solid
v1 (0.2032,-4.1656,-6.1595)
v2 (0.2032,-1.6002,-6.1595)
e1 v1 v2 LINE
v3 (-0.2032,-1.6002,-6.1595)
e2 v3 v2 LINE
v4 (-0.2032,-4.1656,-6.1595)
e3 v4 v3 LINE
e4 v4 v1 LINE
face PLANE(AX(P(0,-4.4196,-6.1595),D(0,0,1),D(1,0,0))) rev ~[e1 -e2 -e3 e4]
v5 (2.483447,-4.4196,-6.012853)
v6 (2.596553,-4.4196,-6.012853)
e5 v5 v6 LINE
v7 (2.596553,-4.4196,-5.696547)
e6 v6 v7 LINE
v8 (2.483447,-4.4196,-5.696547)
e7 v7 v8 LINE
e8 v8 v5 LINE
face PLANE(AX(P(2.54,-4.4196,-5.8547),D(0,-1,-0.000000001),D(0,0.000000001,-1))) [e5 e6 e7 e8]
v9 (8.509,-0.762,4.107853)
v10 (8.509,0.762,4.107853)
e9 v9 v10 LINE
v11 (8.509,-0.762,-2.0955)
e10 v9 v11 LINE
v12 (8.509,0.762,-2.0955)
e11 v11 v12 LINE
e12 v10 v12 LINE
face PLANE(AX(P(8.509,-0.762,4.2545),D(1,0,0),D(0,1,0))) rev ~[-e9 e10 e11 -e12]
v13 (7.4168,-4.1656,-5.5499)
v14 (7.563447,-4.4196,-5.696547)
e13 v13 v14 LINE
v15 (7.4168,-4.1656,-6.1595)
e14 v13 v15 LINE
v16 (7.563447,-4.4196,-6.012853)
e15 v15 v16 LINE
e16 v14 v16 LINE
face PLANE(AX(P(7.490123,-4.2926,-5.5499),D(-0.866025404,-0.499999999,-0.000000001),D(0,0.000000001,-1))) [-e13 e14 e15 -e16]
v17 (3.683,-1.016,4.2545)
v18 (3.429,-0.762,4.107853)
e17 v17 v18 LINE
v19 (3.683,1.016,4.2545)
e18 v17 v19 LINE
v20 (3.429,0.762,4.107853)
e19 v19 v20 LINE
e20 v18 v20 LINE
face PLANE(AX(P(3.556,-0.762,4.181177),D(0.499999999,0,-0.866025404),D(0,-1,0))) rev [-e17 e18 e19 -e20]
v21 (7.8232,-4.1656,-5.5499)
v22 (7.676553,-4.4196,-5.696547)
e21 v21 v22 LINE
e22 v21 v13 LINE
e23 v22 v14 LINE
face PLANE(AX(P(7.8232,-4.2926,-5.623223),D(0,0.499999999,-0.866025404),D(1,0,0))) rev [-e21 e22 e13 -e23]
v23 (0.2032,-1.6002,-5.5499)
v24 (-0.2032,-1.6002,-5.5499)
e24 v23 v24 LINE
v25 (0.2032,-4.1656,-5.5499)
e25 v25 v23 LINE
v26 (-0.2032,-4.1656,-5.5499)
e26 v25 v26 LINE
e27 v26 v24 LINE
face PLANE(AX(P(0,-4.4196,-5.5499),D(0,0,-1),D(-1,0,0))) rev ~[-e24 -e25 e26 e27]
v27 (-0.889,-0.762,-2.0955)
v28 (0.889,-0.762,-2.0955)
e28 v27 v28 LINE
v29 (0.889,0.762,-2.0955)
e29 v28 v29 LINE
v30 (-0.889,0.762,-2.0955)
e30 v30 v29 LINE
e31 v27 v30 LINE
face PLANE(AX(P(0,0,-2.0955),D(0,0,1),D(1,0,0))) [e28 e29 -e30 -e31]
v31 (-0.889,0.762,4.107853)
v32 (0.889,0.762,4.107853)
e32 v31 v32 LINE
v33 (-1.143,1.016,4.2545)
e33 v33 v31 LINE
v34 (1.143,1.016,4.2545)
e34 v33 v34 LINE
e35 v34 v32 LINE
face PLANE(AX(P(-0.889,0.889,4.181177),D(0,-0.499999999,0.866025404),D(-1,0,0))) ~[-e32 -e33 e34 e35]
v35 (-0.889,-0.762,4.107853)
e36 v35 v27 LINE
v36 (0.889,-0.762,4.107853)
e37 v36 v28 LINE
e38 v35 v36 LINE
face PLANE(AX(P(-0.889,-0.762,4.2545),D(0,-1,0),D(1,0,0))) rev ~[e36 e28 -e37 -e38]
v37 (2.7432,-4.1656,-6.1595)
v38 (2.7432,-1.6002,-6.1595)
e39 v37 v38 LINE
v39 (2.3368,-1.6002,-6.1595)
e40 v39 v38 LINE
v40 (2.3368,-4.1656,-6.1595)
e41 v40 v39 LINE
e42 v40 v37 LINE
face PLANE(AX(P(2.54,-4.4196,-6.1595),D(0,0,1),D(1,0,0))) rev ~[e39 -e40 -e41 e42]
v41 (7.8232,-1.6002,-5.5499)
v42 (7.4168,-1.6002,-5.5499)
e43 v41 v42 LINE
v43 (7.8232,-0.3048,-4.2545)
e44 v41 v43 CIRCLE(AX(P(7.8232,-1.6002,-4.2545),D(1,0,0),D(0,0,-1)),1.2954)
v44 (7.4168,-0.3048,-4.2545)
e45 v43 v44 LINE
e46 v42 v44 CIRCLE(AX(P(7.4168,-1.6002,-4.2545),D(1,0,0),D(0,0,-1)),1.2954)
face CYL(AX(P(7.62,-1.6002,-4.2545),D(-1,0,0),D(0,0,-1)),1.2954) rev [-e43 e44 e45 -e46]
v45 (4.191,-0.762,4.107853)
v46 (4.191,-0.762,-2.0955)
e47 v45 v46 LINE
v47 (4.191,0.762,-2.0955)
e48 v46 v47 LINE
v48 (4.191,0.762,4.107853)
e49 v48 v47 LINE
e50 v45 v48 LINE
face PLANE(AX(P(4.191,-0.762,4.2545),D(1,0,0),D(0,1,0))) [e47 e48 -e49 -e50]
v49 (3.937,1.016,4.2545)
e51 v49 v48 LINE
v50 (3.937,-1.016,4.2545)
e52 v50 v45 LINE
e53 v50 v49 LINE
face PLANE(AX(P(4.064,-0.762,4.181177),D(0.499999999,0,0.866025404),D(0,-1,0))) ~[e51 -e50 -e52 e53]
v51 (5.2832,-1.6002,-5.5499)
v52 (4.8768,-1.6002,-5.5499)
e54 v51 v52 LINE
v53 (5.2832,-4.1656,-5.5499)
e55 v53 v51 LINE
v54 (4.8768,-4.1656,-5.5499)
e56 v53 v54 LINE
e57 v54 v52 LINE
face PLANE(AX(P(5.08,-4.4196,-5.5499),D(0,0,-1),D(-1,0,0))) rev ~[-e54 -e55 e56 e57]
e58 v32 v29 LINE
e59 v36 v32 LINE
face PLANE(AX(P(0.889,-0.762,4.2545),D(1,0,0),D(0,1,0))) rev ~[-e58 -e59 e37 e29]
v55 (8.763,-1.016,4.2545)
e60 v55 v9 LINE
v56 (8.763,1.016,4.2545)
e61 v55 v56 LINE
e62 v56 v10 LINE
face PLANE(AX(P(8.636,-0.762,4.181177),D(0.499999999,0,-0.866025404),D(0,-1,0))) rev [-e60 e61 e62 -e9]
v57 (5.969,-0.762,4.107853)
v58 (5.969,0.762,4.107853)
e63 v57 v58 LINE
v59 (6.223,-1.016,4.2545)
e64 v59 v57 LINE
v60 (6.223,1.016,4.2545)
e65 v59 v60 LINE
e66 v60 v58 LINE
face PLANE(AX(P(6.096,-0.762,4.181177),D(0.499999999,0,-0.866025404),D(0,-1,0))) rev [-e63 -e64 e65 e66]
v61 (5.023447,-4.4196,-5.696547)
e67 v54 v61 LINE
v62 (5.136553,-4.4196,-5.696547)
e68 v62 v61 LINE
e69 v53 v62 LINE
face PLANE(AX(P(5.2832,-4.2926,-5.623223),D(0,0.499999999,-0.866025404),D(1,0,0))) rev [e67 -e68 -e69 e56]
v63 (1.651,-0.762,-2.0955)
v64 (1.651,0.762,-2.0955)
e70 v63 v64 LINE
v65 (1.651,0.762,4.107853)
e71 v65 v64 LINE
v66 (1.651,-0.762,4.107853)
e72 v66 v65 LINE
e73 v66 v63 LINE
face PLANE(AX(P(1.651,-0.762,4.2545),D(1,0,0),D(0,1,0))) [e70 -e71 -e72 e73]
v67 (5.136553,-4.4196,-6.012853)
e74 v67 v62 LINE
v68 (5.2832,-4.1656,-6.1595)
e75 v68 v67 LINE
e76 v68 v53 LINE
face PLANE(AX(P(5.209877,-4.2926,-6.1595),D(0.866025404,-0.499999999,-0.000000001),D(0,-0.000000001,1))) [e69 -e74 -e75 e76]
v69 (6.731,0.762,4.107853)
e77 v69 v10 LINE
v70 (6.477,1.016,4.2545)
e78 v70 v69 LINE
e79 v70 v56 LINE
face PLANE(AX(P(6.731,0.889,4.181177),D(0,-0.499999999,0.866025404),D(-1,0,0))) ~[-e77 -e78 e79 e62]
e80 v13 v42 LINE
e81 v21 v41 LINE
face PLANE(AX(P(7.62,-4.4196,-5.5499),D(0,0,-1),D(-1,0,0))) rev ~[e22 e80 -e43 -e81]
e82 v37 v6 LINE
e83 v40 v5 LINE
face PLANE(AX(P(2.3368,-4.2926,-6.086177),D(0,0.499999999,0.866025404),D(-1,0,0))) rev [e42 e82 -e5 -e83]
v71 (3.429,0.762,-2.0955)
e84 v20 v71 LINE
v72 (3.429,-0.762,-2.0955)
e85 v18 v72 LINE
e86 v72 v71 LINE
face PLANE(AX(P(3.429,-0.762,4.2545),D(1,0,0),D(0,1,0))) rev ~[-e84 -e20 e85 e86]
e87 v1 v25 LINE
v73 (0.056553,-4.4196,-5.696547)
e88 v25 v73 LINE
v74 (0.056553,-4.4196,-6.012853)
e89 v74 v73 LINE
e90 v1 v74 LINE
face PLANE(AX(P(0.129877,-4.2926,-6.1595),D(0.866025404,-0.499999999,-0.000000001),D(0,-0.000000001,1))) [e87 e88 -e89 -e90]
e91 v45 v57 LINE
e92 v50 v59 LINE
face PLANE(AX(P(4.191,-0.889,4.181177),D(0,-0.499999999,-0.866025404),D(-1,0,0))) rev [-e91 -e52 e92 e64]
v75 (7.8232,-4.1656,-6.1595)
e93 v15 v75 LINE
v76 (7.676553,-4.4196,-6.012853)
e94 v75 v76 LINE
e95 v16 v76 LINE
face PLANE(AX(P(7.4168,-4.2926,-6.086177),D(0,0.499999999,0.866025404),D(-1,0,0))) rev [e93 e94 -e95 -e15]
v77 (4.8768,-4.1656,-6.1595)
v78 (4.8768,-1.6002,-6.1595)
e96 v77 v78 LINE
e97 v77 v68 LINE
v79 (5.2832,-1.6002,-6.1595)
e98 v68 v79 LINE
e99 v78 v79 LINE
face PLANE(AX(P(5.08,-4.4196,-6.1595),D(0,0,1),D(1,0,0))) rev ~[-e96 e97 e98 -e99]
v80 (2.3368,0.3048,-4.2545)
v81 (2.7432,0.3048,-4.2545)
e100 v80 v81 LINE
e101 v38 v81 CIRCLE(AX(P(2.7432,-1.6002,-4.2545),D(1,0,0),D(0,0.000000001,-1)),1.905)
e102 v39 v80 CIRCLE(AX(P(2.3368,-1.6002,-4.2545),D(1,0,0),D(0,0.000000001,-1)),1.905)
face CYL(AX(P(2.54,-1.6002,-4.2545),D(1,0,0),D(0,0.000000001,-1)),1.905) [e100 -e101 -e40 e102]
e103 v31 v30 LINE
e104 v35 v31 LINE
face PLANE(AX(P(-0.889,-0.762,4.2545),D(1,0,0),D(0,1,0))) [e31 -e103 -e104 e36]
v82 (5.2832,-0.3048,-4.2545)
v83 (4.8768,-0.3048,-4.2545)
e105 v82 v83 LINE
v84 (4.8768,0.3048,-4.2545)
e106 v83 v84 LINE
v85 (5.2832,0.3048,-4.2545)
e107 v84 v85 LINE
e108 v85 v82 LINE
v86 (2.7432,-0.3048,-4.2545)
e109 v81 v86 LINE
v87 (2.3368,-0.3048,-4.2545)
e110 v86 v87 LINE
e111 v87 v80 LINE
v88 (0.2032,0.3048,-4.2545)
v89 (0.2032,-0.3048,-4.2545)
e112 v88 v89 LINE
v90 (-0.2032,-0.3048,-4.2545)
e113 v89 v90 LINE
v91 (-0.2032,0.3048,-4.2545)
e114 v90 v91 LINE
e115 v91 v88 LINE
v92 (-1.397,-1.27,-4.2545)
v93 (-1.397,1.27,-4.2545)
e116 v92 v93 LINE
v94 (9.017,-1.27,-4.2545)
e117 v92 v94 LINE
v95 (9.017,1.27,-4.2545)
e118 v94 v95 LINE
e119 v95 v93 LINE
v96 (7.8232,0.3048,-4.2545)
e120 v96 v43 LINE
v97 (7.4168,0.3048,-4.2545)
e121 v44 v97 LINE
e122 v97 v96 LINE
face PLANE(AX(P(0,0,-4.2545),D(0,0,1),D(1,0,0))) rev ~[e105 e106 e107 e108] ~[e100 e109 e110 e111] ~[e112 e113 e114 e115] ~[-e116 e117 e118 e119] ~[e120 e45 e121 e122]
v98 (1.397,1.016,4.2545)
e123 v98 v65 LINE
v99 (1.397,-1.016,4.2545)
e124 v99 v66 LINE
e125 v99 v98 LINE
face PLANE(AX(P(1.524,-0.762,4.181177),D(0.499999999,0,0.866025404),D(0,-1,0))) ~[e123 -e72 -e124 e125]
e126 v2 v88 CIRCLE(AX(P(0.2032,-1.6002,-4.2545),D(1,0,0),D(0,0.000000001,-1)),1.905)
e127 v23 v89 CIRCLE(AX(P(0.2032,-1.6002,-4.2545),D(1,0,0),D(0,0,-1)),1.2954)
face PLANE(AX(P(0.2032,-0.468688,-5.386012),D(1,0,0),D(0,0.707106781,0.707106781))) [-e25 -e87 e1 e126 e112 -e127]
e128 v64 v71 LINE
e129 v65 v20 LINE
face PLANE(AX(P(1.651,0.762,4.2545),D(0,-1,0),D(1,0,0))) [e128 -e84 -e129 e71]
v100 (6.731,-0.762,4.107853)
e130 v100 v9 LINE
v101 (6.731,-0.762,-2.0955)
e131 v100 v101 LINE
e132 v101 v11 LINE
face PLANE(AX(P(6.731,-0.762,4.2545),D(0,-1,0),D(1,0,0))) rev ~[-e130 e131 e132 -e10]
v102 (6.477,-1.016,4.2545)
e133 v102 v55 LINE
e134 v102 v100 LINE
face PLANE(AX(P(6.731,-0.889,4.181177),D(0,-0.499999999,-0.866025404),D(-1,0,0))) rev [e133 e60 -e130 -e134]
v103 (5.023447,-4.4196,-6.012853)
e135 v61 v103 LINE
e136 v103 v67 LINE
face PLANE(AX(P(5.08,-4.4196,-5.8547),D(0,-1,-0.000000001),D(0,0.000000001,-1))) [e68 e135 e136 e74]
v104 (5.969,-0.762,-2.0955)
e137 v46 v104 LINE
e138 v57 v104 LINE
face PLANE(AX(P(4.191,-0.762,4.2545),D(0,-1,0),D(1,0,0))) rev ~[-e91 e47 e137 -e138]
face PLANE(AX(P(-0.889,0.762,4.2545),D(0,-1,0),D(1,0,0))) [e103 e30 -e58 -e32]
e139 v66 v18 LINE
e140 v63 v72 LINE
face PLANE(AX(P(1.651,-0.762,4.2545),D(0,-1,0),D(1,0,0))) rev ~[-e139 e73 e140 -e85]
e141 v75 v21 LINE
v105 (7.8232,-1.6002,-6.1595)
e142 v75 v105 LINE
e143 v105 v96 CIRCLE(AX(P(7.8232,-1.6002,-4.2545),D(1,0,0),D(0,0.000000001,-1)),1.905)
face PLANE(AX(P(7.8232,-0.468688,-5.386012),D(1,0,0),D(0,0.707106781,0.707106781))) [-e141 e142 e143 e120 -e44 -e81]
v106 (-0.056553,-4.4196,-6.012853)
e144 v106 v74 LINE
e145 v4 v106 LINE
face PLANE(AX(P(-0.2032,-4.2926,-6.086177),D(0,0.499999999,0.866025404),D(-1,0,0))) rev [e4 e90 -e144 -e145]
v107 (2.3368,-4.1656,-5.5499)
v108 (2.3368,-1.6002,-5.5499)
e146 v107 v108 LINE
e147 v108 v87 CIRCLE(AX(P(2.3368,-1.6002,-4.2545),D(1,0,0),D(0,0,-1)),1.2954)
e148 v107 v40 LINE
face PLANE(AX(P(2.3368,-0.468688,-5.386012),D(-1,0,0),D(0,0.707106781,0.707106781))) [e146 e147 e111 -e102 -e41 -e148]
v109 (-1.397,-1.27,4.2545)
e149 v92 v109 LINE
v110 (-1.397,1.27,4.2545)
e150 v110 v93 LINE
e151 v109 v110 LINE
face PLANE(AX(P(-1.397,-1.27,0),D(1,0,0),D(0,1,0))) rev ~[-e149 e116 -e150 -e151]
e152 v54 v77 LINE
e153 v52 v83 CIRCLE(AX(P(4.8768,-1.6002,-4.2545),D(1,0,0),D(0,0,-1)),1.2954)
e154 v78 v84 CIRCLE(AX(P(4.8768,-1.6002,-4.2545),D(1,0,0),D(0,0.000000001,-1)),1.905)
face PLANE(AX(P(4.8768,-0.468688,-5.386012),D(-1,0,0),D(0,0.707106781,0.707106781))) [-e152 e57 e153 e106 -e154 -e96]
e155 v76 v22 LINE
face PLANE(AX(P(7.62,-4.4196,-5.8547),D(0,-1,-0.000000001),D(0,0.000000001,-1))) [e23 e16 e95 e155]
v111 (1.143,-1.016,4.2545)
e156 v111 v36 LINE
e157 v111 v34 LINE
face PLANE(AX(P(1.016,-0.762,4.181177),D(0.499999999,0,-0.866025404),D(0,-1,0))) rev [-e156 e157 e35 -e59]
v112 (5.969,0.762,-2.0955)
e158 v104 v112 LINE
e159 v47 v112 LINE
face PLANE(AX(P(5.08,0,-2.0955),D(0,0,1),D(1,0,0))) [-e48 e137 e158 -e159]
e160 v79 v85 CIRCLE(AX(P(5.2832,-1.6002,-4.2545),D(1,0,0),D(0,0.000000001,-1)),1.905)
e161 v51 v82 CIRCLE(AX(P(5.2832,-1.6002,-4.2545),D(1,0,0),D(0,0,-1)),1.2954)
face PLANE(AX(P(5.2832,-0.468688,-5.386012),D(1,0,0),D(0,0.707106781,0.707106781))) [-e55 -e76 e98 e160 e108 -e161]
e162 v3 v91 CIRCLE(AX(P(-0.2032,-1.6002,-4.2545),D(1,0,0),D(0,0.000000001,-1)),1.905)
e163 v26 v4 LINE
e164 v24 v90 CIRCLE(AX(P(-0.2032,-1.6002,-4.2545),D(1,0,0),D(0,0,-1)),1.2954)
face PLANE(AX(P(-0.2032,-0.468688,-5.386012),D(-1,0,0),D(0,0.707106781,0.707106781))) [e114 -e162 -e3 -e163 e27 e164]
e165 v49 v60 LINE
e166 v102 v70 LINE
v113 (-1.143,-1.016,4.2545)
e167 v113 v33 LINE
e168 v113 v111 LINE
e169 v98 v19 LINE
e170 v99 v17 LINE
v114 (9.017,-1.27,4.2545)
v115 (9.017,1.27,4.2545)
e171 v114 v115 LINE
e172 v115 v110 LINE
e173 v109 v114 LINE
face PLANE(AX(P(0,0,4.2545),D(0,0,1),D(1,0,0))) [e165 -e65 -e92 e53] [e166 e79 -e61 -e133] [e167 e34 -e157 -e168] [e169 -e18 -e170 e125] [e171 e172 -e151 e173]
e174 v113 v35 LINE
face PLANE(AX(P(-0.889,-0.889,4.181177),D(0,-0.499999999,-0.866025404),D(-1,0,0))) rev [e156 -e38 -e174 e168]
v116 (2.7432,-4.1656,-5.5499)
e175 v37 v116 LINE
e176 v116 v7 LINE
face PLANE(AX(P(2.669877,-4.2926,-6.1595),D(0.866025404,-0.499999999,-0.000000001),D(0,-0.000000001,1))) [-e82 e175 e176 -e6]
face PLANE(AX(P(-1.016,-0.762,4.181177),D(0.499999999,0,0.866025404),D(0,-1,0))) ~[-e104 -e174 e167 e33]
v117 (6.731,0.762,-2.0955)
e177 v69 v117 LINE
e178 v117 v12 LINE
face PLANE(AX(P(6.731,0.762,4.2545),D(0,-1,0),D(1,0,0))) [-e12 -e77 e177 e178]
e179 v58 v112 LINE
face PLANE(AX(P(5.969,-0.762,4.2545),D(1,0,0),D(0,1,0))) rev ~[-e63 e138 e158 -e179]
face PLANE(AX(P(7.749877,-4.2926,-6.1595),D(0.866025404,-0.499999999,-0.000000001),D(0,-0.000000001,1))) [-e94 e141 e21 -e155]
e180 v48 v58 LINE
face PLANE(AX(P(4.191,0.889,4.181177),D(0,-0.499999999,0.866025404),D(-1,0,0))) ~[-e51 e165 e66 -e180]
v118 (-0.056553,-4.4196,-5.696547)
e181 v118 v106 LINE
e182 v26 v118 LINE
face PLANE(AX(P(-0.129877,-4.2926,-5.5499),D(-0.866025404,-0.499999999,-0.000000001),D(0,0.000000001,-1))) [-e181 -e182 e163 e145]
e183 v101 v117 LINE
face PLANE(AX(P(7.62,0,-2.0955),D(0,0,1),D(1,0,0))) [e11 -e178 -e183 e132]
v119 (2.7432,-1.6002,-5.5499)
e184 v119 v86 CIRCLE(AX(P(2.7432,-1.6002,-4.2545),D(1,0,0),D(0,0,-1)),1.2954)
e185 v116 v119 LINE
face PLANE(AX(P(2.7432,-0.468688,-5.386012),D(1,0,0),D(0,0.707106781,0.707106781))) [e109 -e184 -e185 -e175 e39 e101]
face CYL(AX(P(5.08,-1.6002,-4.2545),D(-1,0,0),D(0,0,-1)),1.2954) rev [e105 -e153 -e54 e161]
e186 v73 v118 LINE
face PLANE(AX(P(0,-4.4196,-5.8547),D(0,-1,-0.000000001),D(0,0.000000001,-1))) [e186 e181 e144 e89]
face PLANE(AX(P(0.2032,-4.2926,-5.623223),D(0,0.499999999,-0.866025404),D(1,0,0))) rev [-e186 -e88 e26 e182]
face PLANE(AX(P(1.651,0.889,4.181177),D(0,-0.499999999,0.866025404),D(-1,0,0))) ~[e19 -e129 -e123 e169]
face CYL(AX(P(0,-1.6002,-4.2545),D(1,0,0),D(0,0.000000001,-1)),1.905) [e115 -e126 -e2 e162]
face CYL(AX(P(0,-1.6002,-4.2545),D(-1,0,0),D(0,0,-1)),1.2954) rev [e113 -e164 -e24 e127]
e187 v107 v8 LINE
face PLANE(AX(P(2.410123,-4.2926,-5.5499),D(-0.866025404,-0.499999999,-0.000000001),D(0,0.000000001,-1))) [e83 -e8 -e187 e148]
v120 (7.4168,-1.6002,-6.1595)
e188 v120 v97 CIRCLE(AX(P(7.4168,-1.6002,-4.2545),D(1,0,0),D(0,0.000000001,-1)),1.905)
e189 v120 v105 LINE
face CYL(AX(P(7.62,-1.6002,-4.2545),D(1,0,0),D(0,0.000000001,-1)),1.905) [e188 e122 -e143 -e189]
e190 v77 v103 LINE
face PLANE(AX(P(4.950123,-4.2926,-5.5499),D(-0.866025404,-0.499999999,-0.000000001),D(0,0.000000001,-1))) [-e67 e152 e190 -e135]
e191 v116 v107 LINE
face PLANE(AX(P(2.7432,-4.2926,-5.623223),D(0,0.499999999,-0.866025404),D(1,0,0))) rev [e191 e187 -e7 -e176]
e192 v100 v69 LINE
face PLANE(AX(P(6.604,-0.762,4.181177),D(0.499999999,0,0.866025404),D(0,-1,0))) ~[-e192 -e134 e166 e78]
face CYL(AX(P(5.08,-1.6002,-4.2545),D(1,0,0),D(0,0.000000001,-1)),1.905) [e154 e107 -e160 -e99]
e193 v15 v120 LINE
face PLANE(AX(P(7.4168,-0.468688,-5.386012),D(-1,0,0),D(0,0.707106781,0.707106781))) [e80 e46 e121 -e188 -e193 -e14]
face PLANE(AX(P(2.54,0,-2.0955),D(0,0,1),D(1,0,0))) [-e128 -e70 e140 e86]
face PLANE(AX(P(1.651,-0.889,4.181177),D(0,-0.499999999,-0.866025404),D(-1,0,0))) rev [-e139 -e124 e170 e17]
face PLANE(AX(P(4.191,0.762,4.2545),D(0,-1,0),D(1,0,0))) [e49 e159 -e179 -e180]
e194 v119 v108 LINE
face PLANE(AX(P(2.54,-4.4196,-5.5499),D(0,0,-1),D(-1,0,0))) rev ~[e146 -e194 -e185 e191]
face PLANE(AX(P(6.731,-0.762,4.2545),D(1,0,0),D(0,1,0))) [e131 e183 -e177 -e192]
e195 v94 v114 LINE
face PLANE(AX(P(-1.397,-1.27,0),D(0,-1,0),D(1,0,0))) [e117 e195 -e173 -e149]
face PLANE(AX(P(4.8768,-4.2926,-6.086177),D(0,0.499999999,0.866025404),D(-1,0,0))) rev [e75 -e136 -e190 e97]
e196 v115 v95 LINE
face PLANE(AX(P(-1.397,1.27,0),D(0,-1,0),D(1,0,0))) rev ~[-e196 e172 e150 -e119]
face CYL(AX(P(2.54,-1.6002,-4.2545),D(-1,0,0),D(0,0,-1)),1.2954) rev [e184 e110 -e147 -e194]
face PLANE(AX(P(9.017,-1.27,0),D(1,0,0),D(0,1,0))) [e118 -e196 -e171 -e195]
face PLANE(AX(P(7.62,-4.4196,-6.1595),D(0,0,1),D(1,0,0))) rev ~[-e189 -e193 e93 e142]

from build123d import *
from OCP.BRepFilletAPI import BRepFilletAPI_MakeChamfer

# Parameters (mm, degrees)
SKETCH1_W                   = 2.794
SKETCH1_H                   = 2.54
BOSS_EXTRUDE1_DEPTH         = 4.2545
SKETCH3_W                   = 0.4064
SKETCH3_H                   = 0.6096
CHAMFER1_SIZE               = 0.254
CHAMFER1_SIZE2              = 0.146646968
SKETCH4_W                   = 1.778
SKETCH4_H                   = 1.524
CUT_EXTRUDE1_DEPTH          = 6.35
CHAMFER2_SIZE               = 0.254
CHAMFER2_SIZE2              = 0.146646968
LPATTERN1_COUNT             = 4
LPATTERN1_PITCH             = 2.54
CHAMFER1_OF_LPATTERN1_SIZE  = 0.254
CHAMFER1_OF_LPATTERN1_SIZE2 = 0.146646968
CHAMFER2_OF_LPATTERN1_SIZE2 = 0.146646968
CHAMFER2_OF_LPATTERN1_SIZE  = 0.254


with BuildPart() as part:
    # Sketch1 → Boss-Extrude1 (new, symmetric)
    with BuildSketch(Plane.XY):
        Rectangle(SKETCH1_W, SKETCH1_H)
    boss_extrude1 = extrude(amount=BOSS_EXTRUDE1_DEPTH, both=True)

    # Sweep1: sweep along a path in Sketch2
    with BuildLine(Plane(origin=(0, 0, 0), x_dir=(0, 0, -1), z_dir=(1, 0, 0))) as sweep1_path:
        Line((5.8547, -4.4196), (5.8547, -1.6002))
        ThreePointArc((5.8547, -1.6002), (5.386012271, -0.468687729), (4.2545, 0))
    # Sketch3 → Sweep1 (sweep)
    with BuildSketch(Plane(origin=(0, 0, -4.2545), x_dir=(-1, 0, 0), z_dir=(0, 0, -1))):
        Rectangle(SKETCH3_W, SKETCH3_H)
    sweep1 = sweep(path=sweep1_path.line)

    # Chamfer1: one chamfer whose edges measure the first distance from different faces: ONE call of the kernel's chamfer builder (chamfer() names one face for all edges)
    chamfer1_edges_1 = [part.edges().sort_by_distance(p)[0] for p in [
        (-0.2032, -4.4196, -5.8547),
    ]]
    chamfer1_side_1 = [part.faces().sort_by_distance(p)[0] for p in [
        (-0.2032, -1.859510613, -5.586438348),
    ]]
    chamfer1_edges_2 = [part.edges().sort_by_distance(p)[0] for p in [
        (0, -4.4196, -6.1595),
    ]]
    chamfer1_side_2 = [part.faces().sort_by_distance(p)[0] for p in [
        (0, -3.0099, -6.1595),
    ]]
    chamfer1_edges_3 = [part.edges().sort_by_distance(p)[0] for p in [
        (0.2032, -4.4196, -5.8547),
    ]]
    chamfer1_side_3 = [part.faces().sort_by_distance(p)[0] for p in [
        (0.2032, -1.859510613, -5.586438348),
    ]]
    chamfer1_edges_4 = [part.edges().sort_by_distance(p)[0] for p in [
        (0, -4.4196, -5.5499),
    ]]
    chamfer1_side_4 = [part.faces().sort_by_distance(p)[0] for p in [
        (0, -3.0099, -5.5499),
    ]]
    chamfer1 = BRepFilletAPI_MakeChamfer(part.part.solid().wrapped)
    for e in chamfer1_edges_1:
        chamfer1.Add(CHAMFER1_SIZE, CHAMFER1_SIZE2, e.wrapped, chamfer1_side_1[0].wrapped)  # the first distance lies on this face
    for e in chamfer1_edges_2:
        chamfer1.Add(CHAMFER1_SIZE, CHAMFER1_SIZE2, e.wrapped, chamfer1_side_2[0].wrapped)  # the first distance lies on this face
    for e in chamfer1_edges_3:
        chamfer1.Add(CHAMFER1_SIZE, CHAMFER1_SIZE2, e.wrapped, chamfer1_side_3[0].wrapped)  # the first distance lies on this face
    for e in chamfer1_edges_4:
        chamfer1.Add(CHAMFER1_SIZE, CHAMFER1_SIZE2, e.wrapped, chamfer1_side_4[0].wrapped)  # the first distance lies on this face
    add(Compound.cast(chamfer1.Shape()), mode=Mode.REPLACE)

    # Sketch4 → Cut-Extrude1 (cut)
    with BuildSketch(Plane.XY.offset(4.2545)):
        Rectangle(SKETCH4_W, SKETCH4_H)
    cut_extrude1 = extrude(amount=-CUT_EXTRUDE1_DEPTH, mode=Mode.SUBTRACT)

    # Chamfer2
    chamfer2_edges = [part.edges().sort_by_distance(p)[0] for p in [
        (0.889, 0, 4.2545),
        (0, 0.762, 4.2545),
        (-0.889, 0, 4.2545),
        (0, -0.762, 4.2545),
    ]]
    chamfer2_side = [part.faces().sort_by_distance(p)[0] for p in [
        (0, -1.232240185, 4.2545),
    ]]
    chamfer(chamfer2_edges, length=CHAMFER2_SIZE, length2=CHAMFER2_SIZE2, reference=chamfer2_side[0])

    # LPattern1: Boss-Extrude1, Sweep1, Cut-Extrude1 ×4
    with Locations(*[(i * LPATTERN1_PITCH, 0, 0) for i in range(1, LPATTERN1_COUNT)]):
        add(boss_extrude1)
        add(sweep1)
        add(cut_extrude1, mode=Mode.SUBTRACT)

    # Chamfer1 of LPattern1: one chamfer whose edges measure the first distance from different faces: ONE call of the kernel's chamfer builder (chamfer() names one face for all edges)
    chamfer1_of_lpattern1_edges_1 = [part.edges().sort_by_distance(p)[0] for p in [
        (2.3368, -4.4196, -5.8547),
    ]]
    chamfer1_of_lpattern1_side_1 = [part.faces().sort_by_distance(p)[0] for p in [
        (2.3368, -1.859510613, -5.586438348),
    ]]
    chamfer1_of_lpattern1_edges_2 = [part.edges().sort_by_distance(p)[0] for p in [
        (2.54, -4.4196, -6.1595),
    ]]
    chamfer1_of_lpattern1_side_2 = [part.faces().sort_by_distance(p)[0] for p in [
        (2.54, -3.0099, -6.1595),
    ]]
    chamfer1_of_lpattern1_edges_3 = [part.edges().sort_by_distance(p)[0] for p in [
        (2.7432, -4.4196, -5.8547),
    ]]
    chamfer1_of_lpattern1_side_3 = [part.faces().sort_by_distance(p)[0] for p in [
        (2.7432, -1.859510613, -5.586438348),
    ]]
    chamfer1_of_lpattern1_edges_4 = [part.edges().sort_by_distance(p)[0] for p in [
        (2.54, -4.4196, -5.5499),
    ]]
    chamfer1_of_lpattern1_side_4 = [part.faces().sort_by_distance(p)[0] for p in [
        (2.54, -3.0099, -5.5499),
    ]]
    chamfer1_of_lpattern1_edges_5 = [part.edges().sort_by_distance(p)[0] for p in [
        (4.8768, -4.4196, -5.8547),
    ]]
    chamfer1_of_lpattern1_side_5 = [part.faces().sort_by_distance(p)[0] for p in [
        (4.8768, -1.859510613, -5.586438348),
    ]]
    chamfer1_of_lpattern1_edges_6 = [part.edges().sort_by_distance(p)[0] for p in [
        (5.08, -4.4196, -6.1595),
    ]]
    chamfer1_of_lpattern1_side_6 = [part.faces().sort_by_distance(p)[0] for p in [
        (5.08, -3.0099, -6.1595),
    ]]
    chamfer1_of_lpattern1_edges_7 = [part.edges().sort_by_distance(p)[0] for p in [
        (5.2832, -4.4196, -5.8547),
    ]]
    chamfer1_of_lpattern1_side_7 = [part.faces().sort_by_distance(p)[0] for p in [
        (5.2832, -1.859510613, -5.586438348),
    ]]
    chamfer1_of_lpattern1_edges_8 = [part.edges().sort_by_distance(p)[0] for p in [
        (5.08, -4.4196, -5.5499),
    ]]
    chamfer1_of_lpattern1_side_8 = [part.faces().sort_by_distance(p)[0] for p in [
        (5.08, -3.0099, -5.5499),
    ]]
    chamfer1_of_lpattern1_edges_9 = [part.edges().sort_by_distance(p)[0] for p in [
        (7.4168, -4.4196, -5.8547),
    ]]
    chamfer1_of_lpattern1_side_9 = [part.faces().sort_by_distance(p)[0] for p in [
        (7.4168, -1.859510613, -5.586438348),
    ]]
    chamfer1_of_lpattern1_edges_10 = [part.edges().sort_by_distance(p)[0] for p in [
        (7.62, -4.4196, -6.1595),
    ]]
    chamfer1_of_lpattern1_side_10 = [part.faces().sort_by_distance(p)[0] for p in [
        (7.62, -3.0099, -6.1595),
    ]]
    chamfer1_of_lpattern1_edges_11 = [part.edges().sort_by_distance(p)[0] for p in [
        (7.8232, -4.4196, -5.8547),
    ]]
    chamfer1_of_lpattern1_side_11 = [part.faces().sort_by_distance(p)[0] for p in [
        (7.8232, -1.859510613, -5.586438348),
    ]]
    chamfer1_of_lpattern1_edges_12 = [part.edges().sort_by_distance(p)[0] for p in [
        (7.62, -4.4196, -5.5499),
    ]]
    chamfer1_of_lpattern1_side_12 = [part.faces().sort_by_distance(p)[0] for p in [
        (7.62, -3.0099, -5.5499),
    ]]
    chamfer1_of_lpattern1 = BRepFilletAPI_MakeChamfer(part.part.solid().wrapped)
    for e in chamfer1_of_lpattern1_edges_1:
        chamfer1_of_lpattern1.Add(CHAMFER1_OF_LPATTERN1_SIZE, CHAMFER1_OF_LPATTERN1_SIZE2, e.wrapped, chamfer1_of_lpattern1_side_1[0].wrapped)  # the first distance lies on this face
    for e in chamfer1_of_lpattern1_edges_2:
        chamfer1_of_lpattern1.Add(CHAMFER1_OF_LPATTERN1_SIZE, CHAMFER1_OF_LPATTERN1_SIZE2, e.wrapped, chamfer1_of_lpattern1_side_2[0].wrapped)  # the first distance lies on this face
    for e in chamfer1_of_lpattern1_edges_3:
        chamfer1_of_lpattern1.Add(CHAMFER1_OF_LPATTERN1_SIZE, CHAMFER1_OF_LPATTERN1_SIZE2, e.wrapped, chamfer1_of_lpattern1_side_3[0].wrapped)  # the first distance lies on this face
    for e in chamfer1_of_lpattern1_edges_4:
        chamfer1_of_lpattern1.Add(CHAMFER1_OF_LPATTERN1_SIZE, CHAMFER1_OF_LPATTERN1_SIZE2, e.wrapped, chamfer1_of_lpattern1_side_4[0].wrapped)  # the first distance lies on this face
    for e in chamfer1_of_lpattern1_edges_5:
        chamfer1_of_lpattern1.Add(CHAMFER1_OF_LPATTERN1_SIZE, CHAMFER1_OF_LPATTERN1_SIZE2, e.wrapped, chamfer1_of_lpattern1_side_5[0].wrapped)  # the first distance lies on this face
    for e in chamfer1_of_lpattern1_edges_6:
        chamfer1_of_lpattern1.Add(CHAMFER1_OF_LPATTERN1_SIZE, CHAMFER1_OF_LPATTERN1_SIZE2, e.wrapped, chamfer1_of_lpattern1_side_6[0].wrapped)  # the first distance lies on this face
    for e in chamfer1_of_lpattern1_edges_7:
        chamfer1_of_lpattern1.Add(CHAMFER1_OF_LPATTERN1_SIZE, CHAMFER1_OF_LPATTERN1_SIZE2, e.wrapped, chamfer1_of_lpattern1_side_7[0].wrapped)  # the first distance lies on this face
    for e in chamfer1_of_lpattern1_edges_8:
        chamfer1_of_lpattern1.Add(CHAMFER1_OF_LPATTERN1_SIZE, CHAMFER1_OF_LPATTERN1_SIZE2, e.wrapped, chamfer1_of_lpattern1_side_8[0].wrapped)  # the first distance lies on this face
    for e in chamfer1_of_lpattern1_edges_9:
        chamfer1_of_lpattern1.Add(CHAMFER1_OF_LPATTERN1_SIZE, CHAMFER1_OF_LPATTERN1_SIZE2, e.wrapped, chamfer1_of_lpattern1_side_9[0].wrapped)  # the first distance lies on this face
    for e in chamfer1_of_lpattern1_edges_10:
        chamfer1_of_lpattern1.Add(CHAMFER1_OF_LPATTERN1_SIZE, CHAMFER1_OF_LPATTERN1_SIZE2, e.wrapped, chamfer1_of_lpattern1_side_10[0].wrapped)  # the first distance lies on this face
    for e in chamfer1_of_lpattern1_edges_11:
        chamfer1_of_lpattern1.Add(CHAMFER1_OF_LPATTERN1_SIZE, CHAMFER1_OF_LPATTERN1_SIZE2, e.wrapped, chamfer1_of_lpattern1_side_11[0].wrapped)  # the first distance lies on this face
    for e in chamfer1_of_lpattern1_edges_12:
        chamfer1_of_lpattern1.Add(CHAMFER1_OF_LPATTERN1_SIZE, CHAMFER1_OF_LPATTERN1_SIZE2, e.wrapped, chamfer1_of_lpattern1_side_12[0].wrapped)  # the first distance lies on this face
    add(Compound.cast(chamfer1_of_lpattern1.Shape()), mode=Mode.REPLACE)

    # Chamfer2 of LPattern1
    chamfer2_of_lpattern1_edges = [part.edges().sort_by_distance(p)[0] for p in [
        (3.429, 0, 4.2545),
        (2.54, 0.762, 4.2545),
        (1.651, 0, 4.2545),
        (2.54, -0.762, 4.2545),
        (5.969, 0, 4.2545),
        (5.08, 0.762, 4.2545),
        (4.191, 0, 4.2545),
        (5.08, -0.762, 4.2545),
        (8.509, 0, 4.2545),
        (7.62, 0.762, 4.2545),
        (6.731, 0, 4.2545),
        (7.62, -0.762, 4.2545),
    ]]
    chamfer(chamfer2_of_lpattern1_edges, length=CHAMFER2_OF_LPATTERN1_SIZE, length2=CHAMFER2_OF_LPATTERN1_SIZE2)


solid = part.part
